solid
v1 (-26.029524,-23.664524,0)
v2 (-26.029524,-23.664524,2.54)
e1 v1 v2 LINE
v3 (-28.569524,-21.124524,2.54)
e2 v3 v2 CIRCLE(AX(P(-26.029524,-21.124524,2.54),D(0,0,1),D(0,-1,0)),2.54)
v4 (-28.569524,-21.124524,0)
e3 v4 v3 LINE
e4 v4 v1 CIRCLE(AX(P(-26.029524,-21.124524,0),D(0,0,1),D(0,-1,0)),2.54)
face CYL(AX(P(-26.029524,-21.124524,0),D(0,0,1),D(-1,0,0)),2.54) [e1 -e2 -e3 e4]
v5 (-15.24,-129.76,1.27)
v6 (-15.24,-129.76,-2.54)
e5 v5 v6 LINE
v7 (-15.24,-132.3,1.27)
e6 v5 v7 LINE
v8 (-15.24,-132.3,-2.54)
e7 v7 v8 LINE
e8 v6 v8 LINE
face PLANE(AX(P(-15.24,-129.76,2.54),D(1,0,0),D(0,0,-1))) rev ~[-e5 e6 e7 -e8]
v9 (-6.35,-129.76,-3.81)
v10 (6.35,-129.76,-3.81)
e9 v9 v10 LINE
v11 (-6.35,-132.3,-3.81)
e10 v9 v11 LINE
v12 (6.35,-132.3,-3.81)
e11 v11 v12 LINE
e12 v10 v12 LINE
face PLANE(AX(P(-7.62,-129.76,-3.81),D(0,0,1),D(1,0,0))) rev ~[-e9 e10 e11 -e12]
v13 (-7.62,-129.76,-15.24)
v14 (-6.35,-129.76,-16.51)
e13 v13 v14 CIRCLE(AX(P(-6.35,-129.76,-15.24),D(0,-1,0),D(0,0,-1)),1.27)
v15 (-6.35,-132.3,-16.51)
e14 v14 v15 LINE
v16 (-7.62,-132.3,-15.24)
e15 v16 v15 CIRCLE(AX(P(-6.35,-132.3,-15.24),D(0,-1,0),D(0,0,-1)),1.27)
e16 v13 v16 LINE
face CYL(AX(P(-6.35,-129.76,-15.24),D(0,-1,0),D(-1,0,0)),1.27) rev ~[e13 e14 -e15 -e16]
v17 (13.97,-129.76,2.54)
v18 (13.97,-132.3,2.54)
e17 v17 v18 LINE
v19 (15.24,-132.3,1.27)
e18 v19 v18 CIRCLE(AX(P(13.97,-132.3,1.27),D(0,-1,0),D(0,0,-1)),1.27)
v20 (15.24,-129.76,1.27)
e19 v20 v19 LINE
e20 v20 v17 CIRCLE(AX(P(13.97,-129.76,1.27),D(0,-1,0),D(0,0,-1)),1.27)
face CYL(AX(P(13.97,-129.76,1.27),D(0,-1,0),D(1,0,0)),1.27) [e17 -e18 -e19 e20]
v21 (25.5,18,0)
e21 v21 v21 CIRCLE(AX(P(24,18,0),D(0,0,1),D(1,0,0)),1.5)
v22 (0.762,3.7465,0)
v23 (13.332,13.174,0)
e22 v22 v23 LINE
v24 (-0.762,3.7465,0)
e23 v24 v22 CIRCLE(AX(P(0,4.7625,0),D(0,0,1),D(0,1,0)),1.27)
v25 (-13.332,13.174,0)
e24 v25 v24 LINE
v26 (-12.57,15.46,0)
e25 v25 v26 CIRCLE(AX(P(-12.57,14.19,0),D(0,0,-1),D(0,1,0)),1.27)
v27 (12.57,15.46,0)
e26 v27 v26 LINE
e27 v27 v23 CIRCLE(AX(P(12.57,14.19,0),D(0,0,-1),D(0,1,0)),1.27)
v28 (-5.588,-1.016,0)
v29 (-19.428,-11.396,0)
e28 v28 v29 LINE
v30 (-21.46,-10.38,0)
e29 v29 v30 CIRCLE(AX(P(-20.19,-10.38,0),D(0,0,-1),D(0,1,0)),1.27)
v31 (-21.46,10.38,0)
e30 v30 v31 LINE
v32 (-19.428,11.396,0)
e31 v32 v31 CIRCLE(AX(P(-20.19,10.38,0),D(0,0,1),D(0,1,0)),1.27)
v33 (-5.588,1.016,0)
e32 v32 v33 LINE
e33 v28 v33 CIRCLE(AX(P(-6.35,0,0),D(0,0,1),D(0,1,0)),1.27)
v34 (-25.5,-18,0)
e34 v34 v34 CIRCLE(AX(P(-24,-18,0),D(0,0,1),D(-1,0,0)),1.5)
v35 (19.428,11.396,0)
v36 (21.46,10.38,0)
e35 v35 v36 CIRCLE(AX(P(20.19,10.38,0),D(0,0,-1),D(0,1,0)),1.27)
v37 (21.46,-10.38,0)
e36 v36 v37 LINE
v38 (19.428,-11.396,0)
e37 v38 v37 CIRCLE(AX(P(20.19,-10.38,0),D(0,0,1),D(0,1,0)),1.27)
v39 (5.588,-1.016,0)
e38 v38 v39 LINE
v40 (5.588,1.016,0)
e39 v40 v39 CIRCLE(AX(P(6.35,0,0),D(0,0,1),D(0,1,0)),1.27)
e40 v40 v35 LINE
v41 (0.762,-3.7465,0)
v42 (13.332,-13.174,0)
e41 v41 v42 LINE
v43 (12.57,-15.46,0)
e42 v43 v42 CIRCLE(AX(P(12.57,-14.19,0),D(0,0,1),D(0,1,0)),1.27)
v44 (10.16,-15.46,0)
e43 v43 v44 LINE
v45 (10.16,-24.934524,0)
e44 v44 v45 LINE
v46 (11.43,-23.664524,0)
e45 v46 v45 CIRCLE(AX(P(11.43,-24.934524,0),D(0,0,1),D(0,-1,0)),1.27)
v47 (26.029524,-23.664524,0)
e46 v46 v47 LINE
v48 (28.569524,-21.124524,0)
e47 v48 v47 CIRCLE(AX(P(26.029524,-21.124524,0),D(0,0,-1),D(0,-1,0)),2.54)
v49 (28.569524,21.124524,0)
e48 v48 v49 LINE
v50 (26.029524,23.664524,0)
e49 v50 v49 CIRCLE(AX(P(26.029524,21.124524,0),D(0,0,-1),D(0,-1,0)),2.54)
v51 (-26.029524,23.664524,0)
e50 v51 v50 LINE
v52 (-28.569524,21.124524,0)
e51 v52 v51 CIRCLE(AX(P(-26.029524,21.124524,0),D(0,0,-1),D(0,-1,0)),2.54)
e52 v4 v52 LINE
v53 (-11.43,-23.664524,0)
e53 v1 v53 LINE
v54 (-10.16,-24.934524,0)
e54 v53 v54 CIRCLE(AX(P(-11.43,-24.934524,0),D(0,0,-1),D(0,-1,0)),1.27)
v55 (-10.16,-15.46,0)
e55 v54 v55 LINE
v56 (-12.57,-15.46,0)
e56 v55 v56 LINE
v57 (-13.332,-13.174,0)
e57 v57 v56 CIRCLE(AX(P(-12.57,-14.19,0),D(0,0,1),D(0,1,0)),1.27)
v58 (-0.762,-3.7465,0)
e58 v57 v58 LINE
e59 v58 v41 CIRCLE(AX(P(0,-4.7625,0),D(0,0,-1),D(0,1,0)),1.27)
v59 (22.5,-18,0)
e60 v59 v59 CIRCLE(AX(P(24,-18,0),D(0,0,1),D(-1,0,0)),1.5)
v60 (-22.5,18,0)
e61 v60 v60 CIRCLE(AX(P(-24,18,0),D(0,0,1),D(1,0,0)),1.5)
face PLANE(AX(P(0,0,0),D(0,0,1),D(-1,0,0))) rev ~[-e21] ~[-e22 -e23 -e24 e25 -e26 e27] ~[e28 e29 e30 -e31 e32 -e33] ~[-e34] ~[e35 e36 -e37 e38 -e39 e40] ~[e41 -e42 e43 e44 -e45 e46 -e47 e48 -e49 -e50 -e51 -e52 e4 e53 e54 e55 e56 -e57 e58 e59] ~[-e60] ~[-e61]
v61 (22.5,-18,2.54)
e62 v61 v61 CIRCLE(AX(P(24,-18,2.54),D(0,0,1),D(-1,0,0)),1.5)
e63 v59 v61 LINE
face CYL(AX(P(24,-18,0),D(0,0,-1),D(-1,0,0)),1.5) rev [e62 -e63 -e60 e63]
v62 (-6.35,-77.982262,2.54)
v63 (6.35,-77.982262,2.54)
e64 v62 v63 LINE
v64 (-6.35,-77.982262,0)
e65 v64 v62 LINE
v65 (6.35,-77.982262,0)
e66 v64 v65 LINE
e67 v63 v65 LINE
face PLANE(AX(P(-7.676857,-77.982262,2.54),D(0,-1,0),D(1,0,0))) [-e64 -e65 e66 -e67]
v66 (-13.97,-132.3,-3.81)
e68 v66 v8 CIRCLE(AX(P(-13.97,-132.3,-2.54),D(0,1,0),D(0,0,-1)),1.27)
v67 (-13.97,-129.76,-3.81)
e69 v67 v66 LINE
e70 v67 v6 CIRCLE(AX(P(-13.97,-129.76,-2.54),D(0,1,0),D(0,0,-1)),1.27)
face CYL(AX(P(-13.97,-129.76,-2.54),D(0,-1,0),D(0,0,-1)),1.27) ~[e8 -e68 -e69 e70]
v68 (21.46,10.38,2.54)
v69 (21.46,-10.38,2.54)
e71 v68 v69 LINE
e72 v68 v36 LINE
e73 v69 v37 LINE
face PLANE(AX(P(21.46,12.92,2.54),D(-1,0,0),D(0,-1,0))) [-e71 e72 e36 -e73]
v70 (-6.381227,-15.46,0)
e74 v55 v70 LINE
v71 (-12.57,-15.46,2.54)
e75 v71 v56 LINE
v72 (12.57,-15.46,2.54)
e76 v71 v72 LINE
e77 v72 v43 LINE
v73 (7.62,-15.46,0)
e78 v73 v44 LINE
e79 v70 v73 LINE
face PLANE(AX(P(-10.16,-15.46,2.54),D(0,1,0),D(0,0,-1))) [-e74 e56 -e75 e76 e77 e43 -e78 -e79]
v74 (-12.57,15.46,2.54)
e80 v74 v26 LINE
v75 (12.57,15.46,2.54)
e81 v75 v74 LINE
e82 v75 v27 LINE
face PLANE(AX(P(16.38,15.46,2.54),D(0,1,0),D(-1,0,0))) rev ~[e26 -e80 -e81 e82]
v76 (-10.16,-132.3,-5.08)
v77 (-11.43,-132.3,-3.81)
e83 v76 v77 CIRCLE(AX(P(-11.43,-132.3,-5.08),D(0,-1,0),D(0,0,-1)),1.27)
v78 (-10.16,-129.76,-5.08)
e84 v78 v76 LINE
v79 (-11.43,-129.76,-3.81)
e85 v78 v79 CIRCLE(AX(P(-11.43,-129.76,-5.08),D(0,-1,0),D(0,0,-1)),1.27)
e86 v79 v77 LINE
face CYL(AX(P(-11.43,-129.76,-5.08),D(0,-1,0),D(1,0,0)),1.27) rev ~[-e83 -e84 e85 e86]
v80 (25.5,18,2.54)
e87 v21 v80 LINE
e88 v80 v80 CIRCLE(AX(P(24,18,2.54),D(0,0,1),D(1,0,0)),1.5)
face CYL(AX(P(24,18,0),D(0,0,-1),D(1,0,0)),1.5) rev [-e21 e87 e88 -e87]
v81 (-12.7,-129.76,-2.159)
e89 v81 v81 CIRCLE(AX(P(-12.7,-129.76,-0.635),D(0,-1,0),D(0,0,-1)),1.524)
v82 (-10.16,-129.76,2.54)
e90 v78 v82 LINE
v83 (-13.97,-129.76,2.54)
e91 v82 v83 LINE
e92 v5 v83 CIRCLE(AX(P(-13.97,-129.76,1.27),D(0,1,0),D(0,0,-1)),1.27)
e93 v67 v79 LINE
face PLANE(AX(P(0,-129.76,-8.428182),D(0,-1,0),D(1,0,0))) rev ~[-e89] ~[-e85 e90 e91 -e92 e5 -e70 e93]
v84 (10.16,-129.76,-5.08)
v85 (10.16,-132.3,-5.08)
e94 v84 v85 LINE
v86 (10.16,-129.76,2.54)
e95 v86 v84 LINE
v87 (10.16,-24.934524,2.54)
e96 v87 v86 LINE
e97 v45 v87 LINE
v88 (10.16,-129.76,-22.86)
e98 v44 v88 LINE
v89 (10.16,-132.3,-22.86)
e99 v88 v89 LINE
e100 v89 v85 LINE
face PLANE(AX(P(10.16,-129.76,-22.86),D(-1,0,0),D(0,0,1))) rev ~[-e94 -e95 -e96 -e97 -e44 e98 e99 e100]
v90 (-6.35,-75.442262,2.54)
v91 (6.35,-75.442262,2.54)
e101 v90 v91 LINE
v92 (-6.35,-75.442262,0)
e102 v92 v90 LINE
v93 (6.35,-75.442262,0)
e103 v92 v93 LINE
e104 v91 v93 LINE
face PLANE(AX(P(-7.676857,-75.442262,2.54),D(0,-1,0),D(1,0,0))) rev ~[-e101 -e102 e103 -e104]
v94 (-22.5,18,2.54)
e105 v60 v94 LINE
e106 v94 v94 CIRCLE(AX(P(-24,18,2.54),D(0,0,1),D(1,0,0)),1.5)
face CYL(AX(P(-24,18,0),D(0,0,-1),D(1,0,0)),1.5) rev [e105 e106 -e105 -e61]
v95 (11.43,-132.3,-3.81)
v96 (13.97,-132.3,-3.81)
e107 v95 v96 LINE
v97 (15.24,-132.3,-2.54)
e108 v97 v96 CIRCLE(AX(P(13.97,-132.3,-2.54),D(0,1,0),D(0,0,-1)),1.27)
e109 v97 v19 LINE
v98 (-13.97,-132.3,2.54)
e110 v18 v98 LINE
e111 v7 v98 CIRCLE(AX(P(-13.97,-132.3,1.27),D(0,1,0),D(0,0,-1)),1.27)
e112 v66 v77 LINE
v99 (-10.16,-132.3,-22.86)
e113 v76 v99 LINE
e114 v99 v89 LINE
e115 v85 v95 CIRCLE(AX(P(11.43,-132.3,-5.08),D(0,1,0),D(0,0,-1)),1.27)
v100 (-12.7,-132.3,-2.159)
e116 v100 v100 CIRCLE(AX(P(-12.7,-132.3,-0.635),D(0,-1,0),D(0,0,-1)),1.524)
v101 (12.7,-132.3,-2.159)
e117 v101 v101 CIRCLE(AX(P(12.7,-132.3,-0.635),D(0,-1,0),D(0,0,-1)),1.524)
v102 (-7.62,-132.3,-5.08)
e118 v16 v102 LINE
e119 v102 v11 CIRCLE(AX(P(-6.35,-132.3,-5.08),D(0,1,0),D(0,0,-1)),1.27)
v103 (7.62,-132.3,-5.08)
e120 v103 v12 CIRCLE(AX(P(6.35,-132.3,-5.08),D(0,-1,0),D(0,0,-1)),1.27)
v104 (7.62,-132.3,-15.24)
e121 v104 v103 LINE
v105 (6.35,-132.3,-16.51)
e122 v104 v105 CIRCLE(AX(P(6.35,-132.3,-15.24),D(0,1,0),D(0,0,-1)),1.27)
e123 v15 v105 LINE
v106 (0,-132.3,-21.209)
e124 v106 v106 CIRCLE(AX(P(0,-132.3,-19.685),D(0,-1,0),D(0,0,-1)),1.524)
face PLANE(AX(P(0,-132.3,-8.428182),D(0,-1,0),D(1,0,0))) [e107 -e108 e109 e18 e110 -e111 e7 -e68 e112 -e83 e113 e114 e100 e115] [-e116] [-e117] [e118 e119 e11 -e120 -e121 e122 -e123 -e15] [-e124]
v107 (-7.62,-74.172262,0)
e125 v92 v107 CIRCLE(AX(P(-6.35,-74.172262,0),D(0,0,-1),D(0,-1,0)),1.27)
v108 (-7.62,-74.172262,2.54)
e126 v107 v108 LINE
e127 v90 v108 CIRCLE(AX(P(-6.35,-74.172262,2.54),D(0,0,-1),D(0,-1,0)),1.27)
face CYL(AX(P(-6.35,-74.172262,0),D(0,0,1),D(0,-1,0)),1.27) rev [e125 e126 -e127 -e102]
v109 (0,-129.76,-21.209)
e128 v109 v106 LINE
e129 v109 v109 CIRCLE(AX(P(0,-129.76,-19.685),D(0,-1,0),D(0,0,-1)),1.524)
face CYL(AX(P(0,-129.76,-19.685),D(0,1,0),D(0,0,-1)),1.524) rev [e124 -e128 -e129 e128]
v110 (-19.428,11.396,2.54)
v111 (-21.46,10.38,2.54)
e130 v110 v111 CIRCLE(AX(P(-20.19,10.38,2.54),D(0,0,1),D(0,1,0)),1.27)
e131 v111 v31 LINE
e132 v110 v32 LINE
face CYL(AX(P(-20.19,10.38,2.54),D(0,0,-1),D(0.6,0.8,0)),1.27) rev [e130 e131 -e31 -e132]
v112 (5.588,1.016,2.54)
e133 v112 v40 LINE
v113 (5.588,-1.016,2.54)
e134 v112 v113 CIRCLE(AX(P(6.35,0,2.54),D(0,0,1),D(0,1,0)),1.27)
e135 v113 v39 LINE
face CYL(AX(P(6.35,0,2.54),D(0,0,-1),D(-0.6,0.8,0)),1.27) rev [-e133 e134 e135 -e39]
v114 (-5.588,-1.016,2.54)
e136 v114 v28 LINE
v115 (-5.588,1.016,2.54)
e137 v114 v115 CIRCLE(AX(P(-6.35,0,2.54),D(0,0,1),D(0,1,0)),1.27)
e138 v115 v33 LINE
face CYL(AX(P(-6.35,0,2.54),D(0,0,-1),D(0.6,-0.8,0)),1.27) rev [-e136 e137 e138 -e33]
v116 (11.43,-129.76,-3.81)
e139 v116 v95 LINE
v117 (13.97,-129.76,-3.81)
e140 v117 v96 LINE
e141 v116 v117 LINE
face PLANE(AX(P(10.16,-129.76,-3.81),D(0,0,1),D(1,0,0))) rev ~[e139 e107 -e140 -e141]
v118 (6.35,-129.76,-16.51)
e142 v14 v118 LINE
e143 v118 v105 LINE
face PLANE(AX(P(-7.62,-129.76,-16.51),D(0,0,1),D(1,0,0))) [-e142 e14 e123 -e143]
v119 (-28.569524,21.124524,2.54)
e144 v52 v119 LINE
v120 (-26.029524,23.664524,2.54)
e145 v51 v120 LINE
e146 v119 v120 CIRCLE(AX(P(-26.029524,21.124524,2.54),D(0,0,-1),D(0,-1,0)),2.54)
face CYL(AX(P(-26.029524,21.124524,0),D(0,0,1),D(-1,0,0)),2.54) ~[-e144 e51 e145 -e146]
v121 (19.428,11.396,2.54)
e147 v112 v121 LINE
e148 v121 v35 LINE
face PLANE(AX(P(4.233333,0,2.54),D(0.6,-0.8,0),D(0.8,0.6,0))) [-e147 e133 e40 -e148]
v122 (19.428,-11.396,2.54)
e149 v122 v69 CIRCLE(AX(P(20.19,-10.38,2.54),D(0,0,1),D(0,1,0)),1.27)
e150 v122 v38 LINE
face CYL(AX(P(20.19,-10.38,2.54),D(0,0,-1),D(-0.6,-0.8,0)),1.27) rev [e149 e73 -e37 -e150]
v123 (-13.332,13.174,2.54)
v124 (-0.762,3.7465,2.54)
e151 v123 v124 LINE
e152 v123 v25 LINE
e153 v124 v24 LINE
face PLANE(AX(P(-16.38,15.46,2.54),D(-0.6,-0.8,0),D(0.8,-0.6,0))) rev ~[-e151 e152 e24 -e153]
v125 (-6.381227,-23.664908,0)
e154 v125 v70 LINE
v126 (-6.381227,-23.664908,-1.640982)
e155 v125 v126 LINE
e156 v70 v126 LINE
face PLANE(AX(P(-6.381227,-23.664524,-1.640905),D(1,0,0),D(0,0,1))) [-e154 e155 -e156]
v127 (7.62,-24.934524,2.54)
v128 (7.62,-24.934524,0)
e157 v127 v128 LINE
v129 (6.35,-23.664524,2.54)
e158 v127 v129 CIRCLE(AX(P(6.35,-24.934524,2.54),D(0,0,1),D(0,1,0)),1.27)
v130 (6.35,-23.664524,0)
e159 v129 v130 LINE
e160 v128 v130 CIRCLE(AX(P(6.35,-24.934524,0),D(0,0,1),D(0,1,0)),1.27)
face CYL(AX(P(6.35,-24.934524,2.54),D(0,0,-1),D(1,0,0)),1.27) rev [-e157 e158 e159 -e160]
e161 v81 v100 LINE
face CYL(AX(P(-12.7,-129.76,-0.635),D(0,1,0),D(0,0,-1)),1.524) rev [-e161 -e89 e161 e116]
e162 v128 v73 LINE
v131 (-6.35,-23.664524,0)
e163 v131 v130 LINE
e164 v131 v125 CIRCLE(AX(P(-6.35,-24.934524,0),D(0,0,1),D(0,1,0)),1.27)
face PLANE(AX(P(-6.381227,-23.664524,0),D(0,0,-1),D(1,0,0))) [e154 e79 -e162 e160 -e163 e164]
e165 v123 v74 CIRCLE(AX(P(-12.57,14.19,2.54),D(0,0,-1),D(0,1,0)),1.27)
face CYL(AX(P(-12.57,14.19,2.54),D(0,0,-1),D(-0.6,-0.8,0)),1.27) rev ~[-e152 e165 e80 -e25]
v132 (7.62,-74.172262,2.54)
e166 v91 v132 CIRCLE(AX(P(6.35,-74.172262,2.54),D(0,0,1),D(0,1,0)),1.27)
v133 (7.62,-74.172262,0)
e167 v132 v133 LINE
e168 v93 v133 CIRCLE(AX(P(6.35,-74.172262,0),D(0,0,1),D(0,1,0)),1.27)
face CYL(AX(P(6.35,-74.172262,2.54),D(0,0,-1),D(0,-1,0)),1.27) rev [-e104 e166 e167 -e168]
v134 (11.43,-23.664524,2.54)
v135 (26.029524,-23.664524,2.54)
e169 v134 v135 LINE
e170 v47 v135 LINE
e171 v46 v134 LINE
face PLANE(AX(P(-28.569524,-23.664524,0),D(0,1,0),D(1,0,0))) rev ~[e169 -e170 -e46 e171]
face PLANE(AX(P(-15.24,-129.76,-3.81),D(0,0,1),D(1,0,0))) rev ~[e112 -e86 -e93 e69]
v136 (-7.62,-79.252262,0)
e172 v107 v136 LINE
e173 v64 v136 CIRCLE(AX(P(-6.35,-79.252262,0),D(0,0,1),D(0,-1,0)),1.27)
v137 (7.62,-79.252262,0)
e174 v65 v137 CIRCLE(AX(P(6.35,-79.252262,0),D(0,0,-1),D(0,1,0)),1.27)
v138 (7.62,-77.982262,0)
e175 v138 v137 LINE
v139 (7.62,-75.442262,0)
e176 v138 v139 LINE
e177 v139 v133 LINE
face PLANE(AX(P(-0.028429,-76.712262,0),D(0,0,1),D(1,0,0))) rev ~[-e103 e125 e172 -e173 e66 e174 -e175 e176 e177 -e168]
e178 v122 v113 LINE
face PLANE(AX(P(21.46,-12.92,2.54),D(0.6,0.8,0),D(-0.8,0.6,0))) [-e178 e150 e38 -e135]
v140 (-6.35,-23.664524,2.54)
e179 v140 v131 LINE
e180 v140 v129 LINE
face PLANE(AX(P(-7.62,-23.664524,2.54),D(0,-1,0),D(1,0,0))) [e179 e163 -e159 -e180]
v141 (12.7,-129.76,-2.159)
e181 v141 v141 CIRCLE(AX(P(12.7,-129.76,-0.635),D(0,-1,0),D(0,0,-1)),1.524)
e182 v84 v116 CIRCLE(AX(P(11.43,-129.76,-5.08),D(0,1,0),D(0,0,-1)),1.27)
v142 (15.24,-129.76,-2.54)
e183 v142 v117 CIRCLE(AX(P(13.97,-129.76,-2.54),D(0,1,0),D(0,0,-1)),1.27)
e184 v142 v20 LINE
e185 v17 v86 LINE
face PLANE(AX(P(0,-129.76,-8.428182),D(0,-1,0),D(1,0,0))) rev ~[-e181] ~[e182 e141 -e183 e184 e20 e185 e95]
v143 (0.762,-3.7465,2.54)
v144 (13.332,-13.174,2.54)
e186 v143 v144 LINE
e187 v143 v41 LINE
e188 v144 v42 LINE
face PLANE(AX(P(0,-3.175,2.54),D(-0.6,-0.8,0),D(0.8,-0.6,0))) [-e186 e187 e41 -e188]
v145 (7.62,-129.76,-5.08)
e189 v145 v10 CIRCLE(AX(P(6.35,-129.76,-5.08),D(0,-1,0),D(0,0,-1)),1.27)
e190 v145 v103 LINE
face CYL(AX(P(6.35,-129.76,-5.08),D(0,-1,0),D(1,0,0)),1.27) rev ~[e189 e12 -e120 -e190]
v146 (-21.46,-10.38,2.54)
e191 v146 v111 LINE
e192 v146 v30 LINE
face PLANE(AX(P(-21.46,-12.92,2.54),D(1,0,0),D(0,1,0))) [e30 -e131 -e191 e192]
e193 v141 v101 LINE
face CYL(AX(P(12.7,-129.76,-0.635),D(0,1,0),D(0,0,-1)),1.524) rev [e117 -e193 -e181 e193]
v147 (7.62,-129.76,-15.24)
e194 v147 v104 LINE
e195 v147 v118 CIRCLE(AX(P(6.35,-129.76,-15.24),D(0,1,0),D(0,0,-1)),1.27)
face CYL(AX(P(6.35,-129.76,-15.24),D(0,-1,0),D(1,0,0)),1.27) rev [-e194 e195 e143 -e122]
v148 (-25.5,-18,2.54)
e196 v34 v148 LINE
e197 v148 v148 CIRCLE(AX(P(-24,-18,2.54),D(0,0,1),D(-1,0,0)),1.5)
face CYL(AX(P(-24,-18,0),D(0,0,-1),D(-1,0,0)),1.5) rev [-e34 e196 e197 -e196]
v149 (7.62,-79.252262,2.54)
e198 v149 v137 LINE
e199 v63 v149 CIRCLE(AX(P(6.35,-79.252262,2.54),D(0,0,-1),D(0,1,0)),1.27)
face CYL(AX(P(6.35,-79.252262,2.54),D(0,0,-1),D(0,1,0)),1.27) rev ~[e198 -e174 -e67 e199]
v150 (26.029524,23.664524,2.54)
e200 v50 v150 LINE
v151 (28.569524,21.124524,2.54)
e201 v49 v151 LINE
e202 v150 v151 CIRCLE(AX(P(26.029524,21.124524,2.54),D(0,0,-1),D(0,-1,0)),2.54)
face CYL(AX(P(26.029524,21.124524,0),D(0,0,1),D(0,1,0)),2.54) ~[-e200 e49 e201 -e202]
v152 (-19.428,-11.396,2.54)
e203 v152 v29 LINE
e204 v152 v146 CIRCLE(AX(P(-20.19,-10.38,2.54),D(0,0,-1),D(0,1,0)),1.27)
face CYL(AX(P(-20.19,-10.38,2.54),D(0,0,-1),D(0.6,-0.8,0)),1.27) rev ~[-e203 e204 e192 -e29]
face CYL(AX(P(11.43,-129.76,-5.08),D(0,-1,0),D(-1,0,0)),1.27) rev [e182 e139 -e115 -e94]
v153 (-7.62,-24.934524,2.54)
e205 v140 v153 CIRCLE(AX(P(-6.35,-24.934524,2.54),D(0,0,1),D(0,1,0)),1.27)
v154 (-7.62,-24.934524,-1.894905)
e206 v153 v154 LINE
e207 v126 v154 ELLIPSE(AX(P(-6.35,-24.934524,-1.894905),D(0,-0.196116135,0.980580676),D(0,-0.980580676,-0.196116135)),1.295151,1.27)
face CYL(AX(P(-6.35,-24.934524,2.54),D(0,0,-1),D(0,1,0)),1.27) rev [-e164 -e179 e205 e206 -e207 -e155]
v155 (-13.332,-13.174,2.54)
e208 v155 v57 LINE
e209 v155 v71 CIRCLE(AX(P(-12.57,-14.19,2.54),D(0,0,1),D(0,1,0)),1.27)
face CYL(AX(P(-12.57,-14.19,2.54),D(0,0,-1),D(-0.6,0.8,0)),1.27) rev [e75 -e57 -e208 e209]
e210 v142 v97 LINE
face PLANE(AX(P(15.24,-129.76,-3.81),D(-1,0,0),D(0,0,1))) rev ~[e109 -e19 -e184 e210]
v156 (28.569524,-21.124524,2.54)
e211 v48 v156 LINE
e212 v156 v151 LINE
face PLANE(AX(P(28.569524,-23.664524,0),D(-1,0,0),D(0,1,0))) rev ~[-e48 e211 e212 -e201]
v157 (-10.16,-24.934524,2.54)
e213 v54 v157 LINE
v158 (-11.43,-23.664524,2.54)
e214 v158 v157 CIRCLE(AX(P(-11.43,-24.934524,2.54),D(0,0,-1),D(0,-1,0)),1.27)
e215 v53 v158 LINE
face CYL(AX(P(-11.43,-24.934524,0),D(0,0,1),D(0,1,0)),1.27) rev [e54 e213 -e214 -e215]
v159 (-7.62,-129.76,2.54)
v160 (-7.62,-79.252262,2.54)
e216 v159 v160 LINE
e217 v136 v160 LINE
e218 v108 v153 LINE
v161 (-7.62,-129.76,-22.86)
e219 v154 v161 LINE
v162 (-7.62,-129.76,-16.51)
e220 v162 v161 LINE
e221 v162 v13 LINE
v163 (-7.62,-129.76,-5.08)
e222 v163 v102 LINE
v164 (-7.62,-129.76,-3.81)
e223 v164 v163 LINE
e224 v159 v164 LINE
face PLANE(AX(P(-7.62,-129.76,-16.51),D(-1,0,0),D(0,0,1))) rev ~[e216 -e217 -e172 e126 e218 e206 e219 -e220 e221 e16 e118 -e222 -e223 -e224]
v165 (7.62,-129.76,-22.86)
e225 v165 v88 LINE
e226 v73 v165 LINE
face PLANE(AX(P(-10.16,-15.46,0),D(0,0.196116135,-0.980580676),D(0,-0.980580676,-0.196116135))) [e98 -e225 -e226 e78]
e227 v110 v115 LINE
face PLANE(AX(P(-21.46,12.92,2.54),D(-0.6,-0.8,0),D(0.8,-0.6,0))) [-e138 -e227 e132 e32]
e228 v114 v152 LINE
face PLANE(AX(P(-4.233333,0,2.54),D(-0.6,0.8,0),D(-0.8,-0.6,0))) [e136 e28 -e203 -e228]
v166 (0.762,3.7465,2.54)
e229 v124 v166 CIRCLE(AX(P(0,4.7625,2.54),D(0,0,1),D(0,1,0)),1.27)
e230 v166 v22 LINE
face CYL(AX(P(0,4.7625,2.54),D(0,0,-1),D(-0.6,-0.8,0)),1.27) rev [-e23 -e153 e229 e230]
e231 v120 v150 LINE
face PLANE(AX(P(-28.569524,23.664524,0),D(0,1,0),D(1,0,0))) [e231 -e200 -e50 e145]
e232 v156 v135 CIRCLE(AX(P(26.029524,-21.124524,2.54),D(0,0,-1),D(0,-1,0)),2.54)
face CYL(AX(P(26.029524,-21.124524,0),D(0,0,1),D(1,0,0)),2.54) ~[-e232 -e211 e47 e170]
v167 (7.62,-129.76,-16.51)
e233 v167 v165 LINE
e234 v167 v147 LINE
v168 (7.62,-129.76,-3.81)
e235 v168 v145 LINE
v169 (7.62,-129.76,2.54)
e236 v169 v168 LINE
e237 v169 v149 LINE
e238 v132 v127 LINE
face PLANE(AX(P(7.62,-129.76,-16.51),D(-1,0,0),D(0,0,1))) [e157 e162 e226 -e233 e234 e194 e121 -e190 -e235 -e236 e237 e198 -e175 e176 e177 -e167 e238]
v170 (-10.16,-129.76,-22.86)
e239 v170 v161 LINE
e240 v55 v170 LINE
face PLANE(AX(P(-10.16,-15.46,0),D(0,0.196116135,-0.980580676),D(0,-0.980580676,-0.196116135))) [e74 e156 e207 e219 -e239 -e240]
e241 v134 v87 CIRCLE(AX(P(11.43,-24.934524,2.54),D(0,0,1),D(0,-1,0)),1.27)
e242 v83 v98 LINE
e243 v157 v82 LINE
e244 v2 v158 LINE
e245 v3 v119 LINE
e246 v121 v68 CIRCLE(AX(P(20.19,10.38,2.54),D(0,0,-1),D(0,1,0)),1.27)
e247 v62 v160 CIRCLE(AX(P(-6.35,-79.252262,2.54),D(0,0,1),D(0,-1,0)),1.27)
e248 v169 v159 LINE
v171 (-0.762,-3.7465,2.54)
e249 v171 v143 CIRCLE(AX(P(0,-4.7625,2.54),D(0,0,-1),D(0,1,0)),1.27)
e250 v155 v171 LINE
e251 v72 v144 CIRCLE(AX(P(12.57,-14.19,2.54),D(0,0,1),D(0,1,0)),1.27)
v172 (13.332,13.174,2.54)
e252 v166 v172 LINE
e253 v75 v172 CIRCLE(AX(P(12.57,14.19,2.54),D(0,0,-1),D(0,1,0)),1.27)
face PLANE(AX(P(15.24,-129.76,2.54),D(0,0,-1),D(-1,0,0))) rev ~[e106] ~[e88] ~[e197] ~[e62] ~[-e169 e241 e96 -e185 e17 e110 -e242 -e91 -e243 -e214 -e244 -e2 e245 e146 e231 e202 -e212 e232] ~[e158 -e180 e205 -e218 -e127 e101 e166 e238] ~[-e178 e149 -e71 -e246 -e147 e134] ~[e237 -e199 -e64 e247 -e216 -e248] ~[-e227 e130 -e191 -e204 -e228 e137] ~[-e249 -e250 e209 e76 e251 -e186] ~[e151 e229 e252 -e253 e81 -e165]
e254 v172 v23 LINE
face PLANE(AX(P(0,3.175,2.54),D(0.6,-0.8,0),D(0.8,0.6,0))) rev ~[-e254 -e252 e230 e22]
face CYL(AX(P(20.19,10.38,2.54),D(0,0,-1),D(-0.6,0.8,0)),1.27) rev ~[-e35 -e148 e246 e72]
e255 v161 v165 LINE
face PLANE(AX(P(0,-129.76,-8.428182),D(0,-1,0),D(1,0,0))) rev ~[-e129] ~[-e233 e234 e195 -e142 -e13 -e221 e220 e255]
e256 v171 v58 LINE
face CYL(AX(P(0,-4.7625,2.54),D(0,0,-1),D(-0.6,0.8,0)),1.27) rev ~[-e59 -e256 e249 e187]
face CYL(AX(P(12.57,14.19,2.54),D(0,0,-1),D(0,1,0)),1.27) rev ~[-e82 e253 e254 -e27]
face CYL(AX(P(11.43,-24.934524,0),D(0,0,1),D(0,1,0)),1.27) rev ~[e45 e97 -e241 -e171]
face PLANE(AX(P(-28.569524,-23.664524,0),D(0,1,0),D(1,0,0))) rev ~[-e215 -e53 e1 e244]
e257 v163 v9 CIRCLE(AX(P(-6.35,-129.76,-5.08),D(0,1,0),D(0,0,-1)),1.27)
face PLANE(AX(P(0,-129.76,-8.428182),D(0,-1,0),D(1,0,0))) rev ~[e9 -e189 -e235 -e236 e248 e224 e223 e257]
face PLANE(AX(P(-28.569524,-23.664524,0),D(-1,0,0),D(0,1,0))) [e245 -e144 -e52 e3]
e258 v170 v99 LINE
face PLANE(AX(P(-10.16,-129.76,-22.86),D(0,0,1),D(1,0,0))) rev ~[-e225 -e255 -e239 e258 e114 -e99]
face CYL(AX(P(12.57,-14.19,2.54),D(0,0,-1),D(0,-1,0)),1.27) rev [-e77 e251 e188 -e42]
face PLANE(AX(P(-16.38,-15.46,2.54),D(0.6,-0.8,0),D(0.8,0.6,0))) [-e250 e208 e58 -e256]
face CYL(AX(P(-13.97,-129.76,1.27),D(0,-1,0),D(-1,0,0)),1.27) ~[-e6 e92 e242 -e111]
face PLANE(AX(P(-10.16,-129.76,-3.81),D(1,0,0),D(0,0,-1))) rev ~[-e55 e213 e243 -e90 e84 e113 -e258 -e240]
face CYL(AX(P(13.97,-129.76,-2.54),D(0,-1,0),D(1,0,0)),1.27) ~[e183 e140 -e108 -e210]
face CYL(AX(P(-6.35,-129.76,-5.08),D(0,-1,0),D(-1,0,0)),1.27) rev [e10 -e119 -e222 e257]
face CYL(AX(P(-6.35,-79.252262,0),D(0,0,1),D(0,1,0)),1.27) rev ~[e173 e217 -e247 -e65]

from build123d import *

# Parameters (mm, degrees)
BOSS_EXTRUDE1_DEPTH      = 2.54
CUT_EXTRUDE1_DEPTH       = 2.54
CUT_EXTRUDE3_START       = -2.54
SKETCH4_W                = 57.139047114
SKETCH4_H                = 47.329047114
CUT_EXTRUDE3_DEPTH       = 2.54
FILLET5_R                = 1.27
FILLET6_R                = 1.27
FILLET7_R                = 2.54
BOSS_EXTRUDE2_DEPTH      = 10.16
BOSS_EXTRUDE2_DEPTH_BACK = 10.16
SKETCH7_W                = 15.24
SKETCH7_H                = 106.095476443
CUT_EXTRUDE4_DEPTH       = 52.324
SKETCH8_W                = 15.24
SKETCH8_H                = 12.7
SKETCH8_R                = 1.524
BOSS_EXTRUDE3_DEPTH      = 2.54
SKETCH10_W               = 14.001226512
SKETCH10_H               = 1.640904711
CUT_EXTRUDE5_DEPTH       = 12.192
FILLET9_R                = 1.27
FILLET10_R               = 1.27
SKETCH11_W               = 15.296857303
SKETCH11_H               = 2.54
BOSS_EXTRUDE4_DEPTH      = 2.54
FILLET12_R               = 1.27


with BuildPart() as part:
    # Sketch1 → Boss-Extrude1 (new body)
    with BuildSketch(Plane(origin=(0, 0, 0), x_dir=(-1, 0, 0), z_dir=(0, 0, 1))):
        with BuildLine():
            Line((-27.900000003, -31.869047114), (27.899999998, -31.869047114))
            ThreePointArc((27.899999998, -31.869047114), (30.70654013, -30.706540129), (31.869047114, -27.899999998))
            Line((31.869047114, -27.899999998), (31.869047114, 27.899999996))
            ThreePointArc((31.869047114, 27.899999996), (30.70654013, 30.706540129), (27.899999998, 31.869047114))
            Line((27.899999998, 31.869047114), (-27.899999996, 31.869047114))
            ThreePointArc((-27.899999996, 31.869047114), (-30.706540129, 30.70654013), (-31.869047114, 27.899999998))
            Line((-31.869047114, 27.899999998), (-31.869047114, -27.900000002))
            ThreePointArc((-31.869047114, -27.900000002), (-30.70654013, -30.706540129), (-27.900000003, -31.869047114))
        make_face()
        with BuildLine():
            ThreePointArc((-25.5, 18), (-24, 16.5), (-22.5, 18))
            ThreePointArc((-22.5, 18), (-24, 19.5), (-25.5, 18))
        make_face(mode=Mode.SUBTRACT)
        with BuildLine():
            ThreePointArc((22.5, 18), (24, 16.5), (25.5, 18))
            ThreePointArc((25.5, 18), (24, 19.5), (22.5, 18))
        make_face(mode=Mode.SUBTRACT)
        with BuildLine():
            ThreePointArc((25.5, -18), (24, -16.5), (22.5, -18))
            ThreePointArc((22.5, -18), (24, -19.5), (25.5, -18))
        make_face(mode=Mode.SUBTRACT)
        with BuildLine():
            ThreePointArc((-22.5, -18), (-24, -16.5), (-25.5, -18))
            ThreePointArc((-25.5, -18), (-24, -19.5), (-22.5, -18))
        make_face(mode=Mode.SUBTRACT)
    extrude(amount=BOSS_EXTRUDE1_DEPTH)

    # Sketch2 → Cut-Extrude1 (cut)
    with BuildSketch(Plane.XY.offset(2.54)):
        Polygon((-16.38, 15.46), (0, 3.175), (16.38, 15.46), align=None)
        Polygon((21.46, 12.92), (21.46, -12.92), (4.233333333, 0), align=None)
        Polygon((-21.46, -12.92), (-21.46, 12.92), (-4.233333333, 0), align=None)
        Polygon((0, -3.175), (16.38, -15.46), (-16.38, -15.46), align=None)
    extrude(amount=-CUT_EXTRUDE1_DEPTH, mode=Mode.SUBTRACT)

    # Sketch4 → Cut-Extrude3 (cut)
    with BuildSketch(Plane.XY.offset(2.54).offset(CUT_EXTRUDE3_START)):
        with BuildLine():
            Line((27.900000003, 31.869047114), (-27.899999998, 31.869047114))
            ThreePointArc((-27.899999998, 31.869047114), (-30.70654013, 30.706540129), (-31.869047114, 27.899999998))
            Line((-31.869047114, 27.899999998), (-31.869047114, -27.899999996))
            ThreePointArc((-31.869047114, -27.899999996), (-30.70654013, -30.706540129), (-27.899999998, -31.869047114))
            Line((-27.899999998, -31.869047114), (27.899999996, -31.869047114))
            ThreePointArc((27.899999996, -31.869047114), (30.706540129, -30.70654013), (31.869047114, -27.899999998))
            Line((31.869047114, -27.899999998), (31.869047114, 27.900000002))
            ThreePointArc((31.869047114, 27.900000002), (30.70654013, 30.706540129), (27.900000003, 31.869047114))
        make_face()
        Rectangle(SKETCH4_W, SKETCH4_H, mode=Mode.SUBTRACT)
    extrude(amount=CUT_EXTRUDE3_DEPTH, mode=Mode.SUBTRACT)

    # Fillet5
    fillet5_edges = [part.edges().sort_by_distance(p)[0] for p in [
        (16.38, 15.46, 1.27),
        (-16.38, 15.46, 1.27),
        (-21.46, 12.92, 1.27),
        (-21.46, -12.92, 1.27),
        (16.38, -15.46, 1.27),
        (-16.38, -15.46, 1.27),
        (21.46, 12.92, 1.27),
        (21.46, -12.92, 1.27),
    ]]
    fillet(fillet5_edges, radius=FILLET5_R)

    # Fillet6
    fillet6_edges = [part.edges().sort_by_distance(p)[0] for p in [
        (0, 3.175, 1.27),
        (-4.233333333, 0, 1.27),
        (0, -3.175, 1.27),
        (4.233333333, 0, 1.27),
    ]]
    fillet(fillet6_edges, radius=FILLET6_R)

    # Fillet7
    fillet7_edges = [part.edges().sort_by_distance(p)[0] for p in [
        (28.569523557, -23.664523557, 1.27),
        (-28.569523557, -23.664523557, 1.27),
        (-28.569523557, 23.664523557, 1.27),
        (28.569523557, 23.664523557, 1.27),
    ]]
    fillet(fillet7_edges, radius=FILLET7_R)

    # Sketch6 → Boss-Extrude2 (add, two sides: drawn at the far end of the back side and taken through both)
    with BuildSketch(Plane(origin=(0, 0, 0), x_dir=(0, 0, -1), z_dir=(1, 0, 0)).offset(-BOSS_EXTRUDE2_DEPTH_BACK)):
        Polygon((-2.54, -129.76), (-2.54, -23.664523557), (-2.54, -15.46), (0, -15.46), (22.86, -129.76), align=None)
    extrude(amount=BOSS_EXTRUDE2_DEPTH + BOSS_EXTRUDE2_DEPTH_BACK)

    # Sketch7 → Cut-Extrude4 (cut)
    with BuildSketch(Plane.XY.offset(2.54)):
        with Locations((0, -76.712261779)):
            Rectangle(SKETCH7_W, SKETCH7_H)
    extrude(amount=-CUT_EXTRUDE4_DEPTH, mode=Mode.SUBTRACT)

    # Sketch8 → Boss-Extrude3 (add)
    with BuildSketch(Plane.XZ.offset(129.76)):
        Polygon((-15.24, 2.54), (-15.24, -3.81), (-10.16, -3.81), (-10.16, -22.86), (10.16, -22.86), (10.16, -3.81), (15.24, -3.81), (15.24, 2.54), align=None)
        with Locations((0, -10.16)):
            Rectangle(SKETCH8_W, SKETCH8_H, mode=Mode.SUBTRACT)
        with Locations(Location((-12.7, -0.635, 0), (0, 0, 270))):
            Circle(SKETCH8_R, mode=Mode.SUBTRACT)
        with Locations(Location((12.7, -0.635, 0), (0, 0, 270))):
            Circle(SKETCH8_R, mode=Mode.SUBTRACT)
        with Locations(Location((0, -19.685, 0), (0, 0, 270))):
            Circle(SKETCH8_R, mode=Mode.SUBTRACT)
    extrude(amount=BOSS_EXTRUDE3_DEPTH)

    # Sketch10 → Cut-Extrude5 (cut)
    with BuildSketch(Plane.XZ.offset(23.664523557)):
        with Locations((0.619386744, -0.820452356)):
            Rectangle(SKETCH10_W, SKETCH10_H)
    extrude(amount=-CUT_EXTRUDE5_DEPTH, mode=Mode.SUBTRACT)

    # Fillet9
    fillet9_edges = [part.edges().sort_by_distance(p)[0] for p in [
        (7.62, -23.664523557, 1.27),
        (-7.62, -23.664523557, 0.449547644),
        (-10.16, -23.664523557, 1.27),
        (10.16, -23.664523557, 1.27),
    ]]
    fillet(fillet9_edges, radius=FILLET9_R)

    # Fillet10
    fillet10_edges = [part.edges().sort_by_distance(p)[0] for p in [
        (7.62, -131.03, -3.81),
        (7.62, -131.03, -16.51),
        (-7.62, -131.03, -16.51),
        (10.16, -131.03, -3.81),
        (15.24, -131.03, -3.81),
        (15.24, -131.03, 2.54),
        (-15.24, -131.03, 2.54),
        (-15.24, -131.03, -3.81),
        (-7.62, -131.03, -3.81),
        (-10.16, -131.03, -3.81),
    ]]
    fillet(fillet10_edges, radius=FILLET10_R)

    # Sketch11 → Boss-Extrude4 (add)
    with BuildSketch(Plane.XY.offset(2.54)):
        with Locations((-0.028428652, -76.712261779)):
            Rectangle(SKETCH11_W, SKETCH11_H)
    extrude(amount=-BOSS_EXTRUDE4_DEPTH)

    # Fillet12
    fillet12_edges = [part.edges().sort_by_distance(p)[0] for p in [
        (-7.62, -75.442261779, 1.27),
        (-7.62, -77.982261779, 1.27),
        (7.62, -77.982261779, 1.27),
        (7.62, -75.442261779, 1.27),
    ]]
    fillet(fillet12_edges, radius=FILLET12_R)


solid = part.part
